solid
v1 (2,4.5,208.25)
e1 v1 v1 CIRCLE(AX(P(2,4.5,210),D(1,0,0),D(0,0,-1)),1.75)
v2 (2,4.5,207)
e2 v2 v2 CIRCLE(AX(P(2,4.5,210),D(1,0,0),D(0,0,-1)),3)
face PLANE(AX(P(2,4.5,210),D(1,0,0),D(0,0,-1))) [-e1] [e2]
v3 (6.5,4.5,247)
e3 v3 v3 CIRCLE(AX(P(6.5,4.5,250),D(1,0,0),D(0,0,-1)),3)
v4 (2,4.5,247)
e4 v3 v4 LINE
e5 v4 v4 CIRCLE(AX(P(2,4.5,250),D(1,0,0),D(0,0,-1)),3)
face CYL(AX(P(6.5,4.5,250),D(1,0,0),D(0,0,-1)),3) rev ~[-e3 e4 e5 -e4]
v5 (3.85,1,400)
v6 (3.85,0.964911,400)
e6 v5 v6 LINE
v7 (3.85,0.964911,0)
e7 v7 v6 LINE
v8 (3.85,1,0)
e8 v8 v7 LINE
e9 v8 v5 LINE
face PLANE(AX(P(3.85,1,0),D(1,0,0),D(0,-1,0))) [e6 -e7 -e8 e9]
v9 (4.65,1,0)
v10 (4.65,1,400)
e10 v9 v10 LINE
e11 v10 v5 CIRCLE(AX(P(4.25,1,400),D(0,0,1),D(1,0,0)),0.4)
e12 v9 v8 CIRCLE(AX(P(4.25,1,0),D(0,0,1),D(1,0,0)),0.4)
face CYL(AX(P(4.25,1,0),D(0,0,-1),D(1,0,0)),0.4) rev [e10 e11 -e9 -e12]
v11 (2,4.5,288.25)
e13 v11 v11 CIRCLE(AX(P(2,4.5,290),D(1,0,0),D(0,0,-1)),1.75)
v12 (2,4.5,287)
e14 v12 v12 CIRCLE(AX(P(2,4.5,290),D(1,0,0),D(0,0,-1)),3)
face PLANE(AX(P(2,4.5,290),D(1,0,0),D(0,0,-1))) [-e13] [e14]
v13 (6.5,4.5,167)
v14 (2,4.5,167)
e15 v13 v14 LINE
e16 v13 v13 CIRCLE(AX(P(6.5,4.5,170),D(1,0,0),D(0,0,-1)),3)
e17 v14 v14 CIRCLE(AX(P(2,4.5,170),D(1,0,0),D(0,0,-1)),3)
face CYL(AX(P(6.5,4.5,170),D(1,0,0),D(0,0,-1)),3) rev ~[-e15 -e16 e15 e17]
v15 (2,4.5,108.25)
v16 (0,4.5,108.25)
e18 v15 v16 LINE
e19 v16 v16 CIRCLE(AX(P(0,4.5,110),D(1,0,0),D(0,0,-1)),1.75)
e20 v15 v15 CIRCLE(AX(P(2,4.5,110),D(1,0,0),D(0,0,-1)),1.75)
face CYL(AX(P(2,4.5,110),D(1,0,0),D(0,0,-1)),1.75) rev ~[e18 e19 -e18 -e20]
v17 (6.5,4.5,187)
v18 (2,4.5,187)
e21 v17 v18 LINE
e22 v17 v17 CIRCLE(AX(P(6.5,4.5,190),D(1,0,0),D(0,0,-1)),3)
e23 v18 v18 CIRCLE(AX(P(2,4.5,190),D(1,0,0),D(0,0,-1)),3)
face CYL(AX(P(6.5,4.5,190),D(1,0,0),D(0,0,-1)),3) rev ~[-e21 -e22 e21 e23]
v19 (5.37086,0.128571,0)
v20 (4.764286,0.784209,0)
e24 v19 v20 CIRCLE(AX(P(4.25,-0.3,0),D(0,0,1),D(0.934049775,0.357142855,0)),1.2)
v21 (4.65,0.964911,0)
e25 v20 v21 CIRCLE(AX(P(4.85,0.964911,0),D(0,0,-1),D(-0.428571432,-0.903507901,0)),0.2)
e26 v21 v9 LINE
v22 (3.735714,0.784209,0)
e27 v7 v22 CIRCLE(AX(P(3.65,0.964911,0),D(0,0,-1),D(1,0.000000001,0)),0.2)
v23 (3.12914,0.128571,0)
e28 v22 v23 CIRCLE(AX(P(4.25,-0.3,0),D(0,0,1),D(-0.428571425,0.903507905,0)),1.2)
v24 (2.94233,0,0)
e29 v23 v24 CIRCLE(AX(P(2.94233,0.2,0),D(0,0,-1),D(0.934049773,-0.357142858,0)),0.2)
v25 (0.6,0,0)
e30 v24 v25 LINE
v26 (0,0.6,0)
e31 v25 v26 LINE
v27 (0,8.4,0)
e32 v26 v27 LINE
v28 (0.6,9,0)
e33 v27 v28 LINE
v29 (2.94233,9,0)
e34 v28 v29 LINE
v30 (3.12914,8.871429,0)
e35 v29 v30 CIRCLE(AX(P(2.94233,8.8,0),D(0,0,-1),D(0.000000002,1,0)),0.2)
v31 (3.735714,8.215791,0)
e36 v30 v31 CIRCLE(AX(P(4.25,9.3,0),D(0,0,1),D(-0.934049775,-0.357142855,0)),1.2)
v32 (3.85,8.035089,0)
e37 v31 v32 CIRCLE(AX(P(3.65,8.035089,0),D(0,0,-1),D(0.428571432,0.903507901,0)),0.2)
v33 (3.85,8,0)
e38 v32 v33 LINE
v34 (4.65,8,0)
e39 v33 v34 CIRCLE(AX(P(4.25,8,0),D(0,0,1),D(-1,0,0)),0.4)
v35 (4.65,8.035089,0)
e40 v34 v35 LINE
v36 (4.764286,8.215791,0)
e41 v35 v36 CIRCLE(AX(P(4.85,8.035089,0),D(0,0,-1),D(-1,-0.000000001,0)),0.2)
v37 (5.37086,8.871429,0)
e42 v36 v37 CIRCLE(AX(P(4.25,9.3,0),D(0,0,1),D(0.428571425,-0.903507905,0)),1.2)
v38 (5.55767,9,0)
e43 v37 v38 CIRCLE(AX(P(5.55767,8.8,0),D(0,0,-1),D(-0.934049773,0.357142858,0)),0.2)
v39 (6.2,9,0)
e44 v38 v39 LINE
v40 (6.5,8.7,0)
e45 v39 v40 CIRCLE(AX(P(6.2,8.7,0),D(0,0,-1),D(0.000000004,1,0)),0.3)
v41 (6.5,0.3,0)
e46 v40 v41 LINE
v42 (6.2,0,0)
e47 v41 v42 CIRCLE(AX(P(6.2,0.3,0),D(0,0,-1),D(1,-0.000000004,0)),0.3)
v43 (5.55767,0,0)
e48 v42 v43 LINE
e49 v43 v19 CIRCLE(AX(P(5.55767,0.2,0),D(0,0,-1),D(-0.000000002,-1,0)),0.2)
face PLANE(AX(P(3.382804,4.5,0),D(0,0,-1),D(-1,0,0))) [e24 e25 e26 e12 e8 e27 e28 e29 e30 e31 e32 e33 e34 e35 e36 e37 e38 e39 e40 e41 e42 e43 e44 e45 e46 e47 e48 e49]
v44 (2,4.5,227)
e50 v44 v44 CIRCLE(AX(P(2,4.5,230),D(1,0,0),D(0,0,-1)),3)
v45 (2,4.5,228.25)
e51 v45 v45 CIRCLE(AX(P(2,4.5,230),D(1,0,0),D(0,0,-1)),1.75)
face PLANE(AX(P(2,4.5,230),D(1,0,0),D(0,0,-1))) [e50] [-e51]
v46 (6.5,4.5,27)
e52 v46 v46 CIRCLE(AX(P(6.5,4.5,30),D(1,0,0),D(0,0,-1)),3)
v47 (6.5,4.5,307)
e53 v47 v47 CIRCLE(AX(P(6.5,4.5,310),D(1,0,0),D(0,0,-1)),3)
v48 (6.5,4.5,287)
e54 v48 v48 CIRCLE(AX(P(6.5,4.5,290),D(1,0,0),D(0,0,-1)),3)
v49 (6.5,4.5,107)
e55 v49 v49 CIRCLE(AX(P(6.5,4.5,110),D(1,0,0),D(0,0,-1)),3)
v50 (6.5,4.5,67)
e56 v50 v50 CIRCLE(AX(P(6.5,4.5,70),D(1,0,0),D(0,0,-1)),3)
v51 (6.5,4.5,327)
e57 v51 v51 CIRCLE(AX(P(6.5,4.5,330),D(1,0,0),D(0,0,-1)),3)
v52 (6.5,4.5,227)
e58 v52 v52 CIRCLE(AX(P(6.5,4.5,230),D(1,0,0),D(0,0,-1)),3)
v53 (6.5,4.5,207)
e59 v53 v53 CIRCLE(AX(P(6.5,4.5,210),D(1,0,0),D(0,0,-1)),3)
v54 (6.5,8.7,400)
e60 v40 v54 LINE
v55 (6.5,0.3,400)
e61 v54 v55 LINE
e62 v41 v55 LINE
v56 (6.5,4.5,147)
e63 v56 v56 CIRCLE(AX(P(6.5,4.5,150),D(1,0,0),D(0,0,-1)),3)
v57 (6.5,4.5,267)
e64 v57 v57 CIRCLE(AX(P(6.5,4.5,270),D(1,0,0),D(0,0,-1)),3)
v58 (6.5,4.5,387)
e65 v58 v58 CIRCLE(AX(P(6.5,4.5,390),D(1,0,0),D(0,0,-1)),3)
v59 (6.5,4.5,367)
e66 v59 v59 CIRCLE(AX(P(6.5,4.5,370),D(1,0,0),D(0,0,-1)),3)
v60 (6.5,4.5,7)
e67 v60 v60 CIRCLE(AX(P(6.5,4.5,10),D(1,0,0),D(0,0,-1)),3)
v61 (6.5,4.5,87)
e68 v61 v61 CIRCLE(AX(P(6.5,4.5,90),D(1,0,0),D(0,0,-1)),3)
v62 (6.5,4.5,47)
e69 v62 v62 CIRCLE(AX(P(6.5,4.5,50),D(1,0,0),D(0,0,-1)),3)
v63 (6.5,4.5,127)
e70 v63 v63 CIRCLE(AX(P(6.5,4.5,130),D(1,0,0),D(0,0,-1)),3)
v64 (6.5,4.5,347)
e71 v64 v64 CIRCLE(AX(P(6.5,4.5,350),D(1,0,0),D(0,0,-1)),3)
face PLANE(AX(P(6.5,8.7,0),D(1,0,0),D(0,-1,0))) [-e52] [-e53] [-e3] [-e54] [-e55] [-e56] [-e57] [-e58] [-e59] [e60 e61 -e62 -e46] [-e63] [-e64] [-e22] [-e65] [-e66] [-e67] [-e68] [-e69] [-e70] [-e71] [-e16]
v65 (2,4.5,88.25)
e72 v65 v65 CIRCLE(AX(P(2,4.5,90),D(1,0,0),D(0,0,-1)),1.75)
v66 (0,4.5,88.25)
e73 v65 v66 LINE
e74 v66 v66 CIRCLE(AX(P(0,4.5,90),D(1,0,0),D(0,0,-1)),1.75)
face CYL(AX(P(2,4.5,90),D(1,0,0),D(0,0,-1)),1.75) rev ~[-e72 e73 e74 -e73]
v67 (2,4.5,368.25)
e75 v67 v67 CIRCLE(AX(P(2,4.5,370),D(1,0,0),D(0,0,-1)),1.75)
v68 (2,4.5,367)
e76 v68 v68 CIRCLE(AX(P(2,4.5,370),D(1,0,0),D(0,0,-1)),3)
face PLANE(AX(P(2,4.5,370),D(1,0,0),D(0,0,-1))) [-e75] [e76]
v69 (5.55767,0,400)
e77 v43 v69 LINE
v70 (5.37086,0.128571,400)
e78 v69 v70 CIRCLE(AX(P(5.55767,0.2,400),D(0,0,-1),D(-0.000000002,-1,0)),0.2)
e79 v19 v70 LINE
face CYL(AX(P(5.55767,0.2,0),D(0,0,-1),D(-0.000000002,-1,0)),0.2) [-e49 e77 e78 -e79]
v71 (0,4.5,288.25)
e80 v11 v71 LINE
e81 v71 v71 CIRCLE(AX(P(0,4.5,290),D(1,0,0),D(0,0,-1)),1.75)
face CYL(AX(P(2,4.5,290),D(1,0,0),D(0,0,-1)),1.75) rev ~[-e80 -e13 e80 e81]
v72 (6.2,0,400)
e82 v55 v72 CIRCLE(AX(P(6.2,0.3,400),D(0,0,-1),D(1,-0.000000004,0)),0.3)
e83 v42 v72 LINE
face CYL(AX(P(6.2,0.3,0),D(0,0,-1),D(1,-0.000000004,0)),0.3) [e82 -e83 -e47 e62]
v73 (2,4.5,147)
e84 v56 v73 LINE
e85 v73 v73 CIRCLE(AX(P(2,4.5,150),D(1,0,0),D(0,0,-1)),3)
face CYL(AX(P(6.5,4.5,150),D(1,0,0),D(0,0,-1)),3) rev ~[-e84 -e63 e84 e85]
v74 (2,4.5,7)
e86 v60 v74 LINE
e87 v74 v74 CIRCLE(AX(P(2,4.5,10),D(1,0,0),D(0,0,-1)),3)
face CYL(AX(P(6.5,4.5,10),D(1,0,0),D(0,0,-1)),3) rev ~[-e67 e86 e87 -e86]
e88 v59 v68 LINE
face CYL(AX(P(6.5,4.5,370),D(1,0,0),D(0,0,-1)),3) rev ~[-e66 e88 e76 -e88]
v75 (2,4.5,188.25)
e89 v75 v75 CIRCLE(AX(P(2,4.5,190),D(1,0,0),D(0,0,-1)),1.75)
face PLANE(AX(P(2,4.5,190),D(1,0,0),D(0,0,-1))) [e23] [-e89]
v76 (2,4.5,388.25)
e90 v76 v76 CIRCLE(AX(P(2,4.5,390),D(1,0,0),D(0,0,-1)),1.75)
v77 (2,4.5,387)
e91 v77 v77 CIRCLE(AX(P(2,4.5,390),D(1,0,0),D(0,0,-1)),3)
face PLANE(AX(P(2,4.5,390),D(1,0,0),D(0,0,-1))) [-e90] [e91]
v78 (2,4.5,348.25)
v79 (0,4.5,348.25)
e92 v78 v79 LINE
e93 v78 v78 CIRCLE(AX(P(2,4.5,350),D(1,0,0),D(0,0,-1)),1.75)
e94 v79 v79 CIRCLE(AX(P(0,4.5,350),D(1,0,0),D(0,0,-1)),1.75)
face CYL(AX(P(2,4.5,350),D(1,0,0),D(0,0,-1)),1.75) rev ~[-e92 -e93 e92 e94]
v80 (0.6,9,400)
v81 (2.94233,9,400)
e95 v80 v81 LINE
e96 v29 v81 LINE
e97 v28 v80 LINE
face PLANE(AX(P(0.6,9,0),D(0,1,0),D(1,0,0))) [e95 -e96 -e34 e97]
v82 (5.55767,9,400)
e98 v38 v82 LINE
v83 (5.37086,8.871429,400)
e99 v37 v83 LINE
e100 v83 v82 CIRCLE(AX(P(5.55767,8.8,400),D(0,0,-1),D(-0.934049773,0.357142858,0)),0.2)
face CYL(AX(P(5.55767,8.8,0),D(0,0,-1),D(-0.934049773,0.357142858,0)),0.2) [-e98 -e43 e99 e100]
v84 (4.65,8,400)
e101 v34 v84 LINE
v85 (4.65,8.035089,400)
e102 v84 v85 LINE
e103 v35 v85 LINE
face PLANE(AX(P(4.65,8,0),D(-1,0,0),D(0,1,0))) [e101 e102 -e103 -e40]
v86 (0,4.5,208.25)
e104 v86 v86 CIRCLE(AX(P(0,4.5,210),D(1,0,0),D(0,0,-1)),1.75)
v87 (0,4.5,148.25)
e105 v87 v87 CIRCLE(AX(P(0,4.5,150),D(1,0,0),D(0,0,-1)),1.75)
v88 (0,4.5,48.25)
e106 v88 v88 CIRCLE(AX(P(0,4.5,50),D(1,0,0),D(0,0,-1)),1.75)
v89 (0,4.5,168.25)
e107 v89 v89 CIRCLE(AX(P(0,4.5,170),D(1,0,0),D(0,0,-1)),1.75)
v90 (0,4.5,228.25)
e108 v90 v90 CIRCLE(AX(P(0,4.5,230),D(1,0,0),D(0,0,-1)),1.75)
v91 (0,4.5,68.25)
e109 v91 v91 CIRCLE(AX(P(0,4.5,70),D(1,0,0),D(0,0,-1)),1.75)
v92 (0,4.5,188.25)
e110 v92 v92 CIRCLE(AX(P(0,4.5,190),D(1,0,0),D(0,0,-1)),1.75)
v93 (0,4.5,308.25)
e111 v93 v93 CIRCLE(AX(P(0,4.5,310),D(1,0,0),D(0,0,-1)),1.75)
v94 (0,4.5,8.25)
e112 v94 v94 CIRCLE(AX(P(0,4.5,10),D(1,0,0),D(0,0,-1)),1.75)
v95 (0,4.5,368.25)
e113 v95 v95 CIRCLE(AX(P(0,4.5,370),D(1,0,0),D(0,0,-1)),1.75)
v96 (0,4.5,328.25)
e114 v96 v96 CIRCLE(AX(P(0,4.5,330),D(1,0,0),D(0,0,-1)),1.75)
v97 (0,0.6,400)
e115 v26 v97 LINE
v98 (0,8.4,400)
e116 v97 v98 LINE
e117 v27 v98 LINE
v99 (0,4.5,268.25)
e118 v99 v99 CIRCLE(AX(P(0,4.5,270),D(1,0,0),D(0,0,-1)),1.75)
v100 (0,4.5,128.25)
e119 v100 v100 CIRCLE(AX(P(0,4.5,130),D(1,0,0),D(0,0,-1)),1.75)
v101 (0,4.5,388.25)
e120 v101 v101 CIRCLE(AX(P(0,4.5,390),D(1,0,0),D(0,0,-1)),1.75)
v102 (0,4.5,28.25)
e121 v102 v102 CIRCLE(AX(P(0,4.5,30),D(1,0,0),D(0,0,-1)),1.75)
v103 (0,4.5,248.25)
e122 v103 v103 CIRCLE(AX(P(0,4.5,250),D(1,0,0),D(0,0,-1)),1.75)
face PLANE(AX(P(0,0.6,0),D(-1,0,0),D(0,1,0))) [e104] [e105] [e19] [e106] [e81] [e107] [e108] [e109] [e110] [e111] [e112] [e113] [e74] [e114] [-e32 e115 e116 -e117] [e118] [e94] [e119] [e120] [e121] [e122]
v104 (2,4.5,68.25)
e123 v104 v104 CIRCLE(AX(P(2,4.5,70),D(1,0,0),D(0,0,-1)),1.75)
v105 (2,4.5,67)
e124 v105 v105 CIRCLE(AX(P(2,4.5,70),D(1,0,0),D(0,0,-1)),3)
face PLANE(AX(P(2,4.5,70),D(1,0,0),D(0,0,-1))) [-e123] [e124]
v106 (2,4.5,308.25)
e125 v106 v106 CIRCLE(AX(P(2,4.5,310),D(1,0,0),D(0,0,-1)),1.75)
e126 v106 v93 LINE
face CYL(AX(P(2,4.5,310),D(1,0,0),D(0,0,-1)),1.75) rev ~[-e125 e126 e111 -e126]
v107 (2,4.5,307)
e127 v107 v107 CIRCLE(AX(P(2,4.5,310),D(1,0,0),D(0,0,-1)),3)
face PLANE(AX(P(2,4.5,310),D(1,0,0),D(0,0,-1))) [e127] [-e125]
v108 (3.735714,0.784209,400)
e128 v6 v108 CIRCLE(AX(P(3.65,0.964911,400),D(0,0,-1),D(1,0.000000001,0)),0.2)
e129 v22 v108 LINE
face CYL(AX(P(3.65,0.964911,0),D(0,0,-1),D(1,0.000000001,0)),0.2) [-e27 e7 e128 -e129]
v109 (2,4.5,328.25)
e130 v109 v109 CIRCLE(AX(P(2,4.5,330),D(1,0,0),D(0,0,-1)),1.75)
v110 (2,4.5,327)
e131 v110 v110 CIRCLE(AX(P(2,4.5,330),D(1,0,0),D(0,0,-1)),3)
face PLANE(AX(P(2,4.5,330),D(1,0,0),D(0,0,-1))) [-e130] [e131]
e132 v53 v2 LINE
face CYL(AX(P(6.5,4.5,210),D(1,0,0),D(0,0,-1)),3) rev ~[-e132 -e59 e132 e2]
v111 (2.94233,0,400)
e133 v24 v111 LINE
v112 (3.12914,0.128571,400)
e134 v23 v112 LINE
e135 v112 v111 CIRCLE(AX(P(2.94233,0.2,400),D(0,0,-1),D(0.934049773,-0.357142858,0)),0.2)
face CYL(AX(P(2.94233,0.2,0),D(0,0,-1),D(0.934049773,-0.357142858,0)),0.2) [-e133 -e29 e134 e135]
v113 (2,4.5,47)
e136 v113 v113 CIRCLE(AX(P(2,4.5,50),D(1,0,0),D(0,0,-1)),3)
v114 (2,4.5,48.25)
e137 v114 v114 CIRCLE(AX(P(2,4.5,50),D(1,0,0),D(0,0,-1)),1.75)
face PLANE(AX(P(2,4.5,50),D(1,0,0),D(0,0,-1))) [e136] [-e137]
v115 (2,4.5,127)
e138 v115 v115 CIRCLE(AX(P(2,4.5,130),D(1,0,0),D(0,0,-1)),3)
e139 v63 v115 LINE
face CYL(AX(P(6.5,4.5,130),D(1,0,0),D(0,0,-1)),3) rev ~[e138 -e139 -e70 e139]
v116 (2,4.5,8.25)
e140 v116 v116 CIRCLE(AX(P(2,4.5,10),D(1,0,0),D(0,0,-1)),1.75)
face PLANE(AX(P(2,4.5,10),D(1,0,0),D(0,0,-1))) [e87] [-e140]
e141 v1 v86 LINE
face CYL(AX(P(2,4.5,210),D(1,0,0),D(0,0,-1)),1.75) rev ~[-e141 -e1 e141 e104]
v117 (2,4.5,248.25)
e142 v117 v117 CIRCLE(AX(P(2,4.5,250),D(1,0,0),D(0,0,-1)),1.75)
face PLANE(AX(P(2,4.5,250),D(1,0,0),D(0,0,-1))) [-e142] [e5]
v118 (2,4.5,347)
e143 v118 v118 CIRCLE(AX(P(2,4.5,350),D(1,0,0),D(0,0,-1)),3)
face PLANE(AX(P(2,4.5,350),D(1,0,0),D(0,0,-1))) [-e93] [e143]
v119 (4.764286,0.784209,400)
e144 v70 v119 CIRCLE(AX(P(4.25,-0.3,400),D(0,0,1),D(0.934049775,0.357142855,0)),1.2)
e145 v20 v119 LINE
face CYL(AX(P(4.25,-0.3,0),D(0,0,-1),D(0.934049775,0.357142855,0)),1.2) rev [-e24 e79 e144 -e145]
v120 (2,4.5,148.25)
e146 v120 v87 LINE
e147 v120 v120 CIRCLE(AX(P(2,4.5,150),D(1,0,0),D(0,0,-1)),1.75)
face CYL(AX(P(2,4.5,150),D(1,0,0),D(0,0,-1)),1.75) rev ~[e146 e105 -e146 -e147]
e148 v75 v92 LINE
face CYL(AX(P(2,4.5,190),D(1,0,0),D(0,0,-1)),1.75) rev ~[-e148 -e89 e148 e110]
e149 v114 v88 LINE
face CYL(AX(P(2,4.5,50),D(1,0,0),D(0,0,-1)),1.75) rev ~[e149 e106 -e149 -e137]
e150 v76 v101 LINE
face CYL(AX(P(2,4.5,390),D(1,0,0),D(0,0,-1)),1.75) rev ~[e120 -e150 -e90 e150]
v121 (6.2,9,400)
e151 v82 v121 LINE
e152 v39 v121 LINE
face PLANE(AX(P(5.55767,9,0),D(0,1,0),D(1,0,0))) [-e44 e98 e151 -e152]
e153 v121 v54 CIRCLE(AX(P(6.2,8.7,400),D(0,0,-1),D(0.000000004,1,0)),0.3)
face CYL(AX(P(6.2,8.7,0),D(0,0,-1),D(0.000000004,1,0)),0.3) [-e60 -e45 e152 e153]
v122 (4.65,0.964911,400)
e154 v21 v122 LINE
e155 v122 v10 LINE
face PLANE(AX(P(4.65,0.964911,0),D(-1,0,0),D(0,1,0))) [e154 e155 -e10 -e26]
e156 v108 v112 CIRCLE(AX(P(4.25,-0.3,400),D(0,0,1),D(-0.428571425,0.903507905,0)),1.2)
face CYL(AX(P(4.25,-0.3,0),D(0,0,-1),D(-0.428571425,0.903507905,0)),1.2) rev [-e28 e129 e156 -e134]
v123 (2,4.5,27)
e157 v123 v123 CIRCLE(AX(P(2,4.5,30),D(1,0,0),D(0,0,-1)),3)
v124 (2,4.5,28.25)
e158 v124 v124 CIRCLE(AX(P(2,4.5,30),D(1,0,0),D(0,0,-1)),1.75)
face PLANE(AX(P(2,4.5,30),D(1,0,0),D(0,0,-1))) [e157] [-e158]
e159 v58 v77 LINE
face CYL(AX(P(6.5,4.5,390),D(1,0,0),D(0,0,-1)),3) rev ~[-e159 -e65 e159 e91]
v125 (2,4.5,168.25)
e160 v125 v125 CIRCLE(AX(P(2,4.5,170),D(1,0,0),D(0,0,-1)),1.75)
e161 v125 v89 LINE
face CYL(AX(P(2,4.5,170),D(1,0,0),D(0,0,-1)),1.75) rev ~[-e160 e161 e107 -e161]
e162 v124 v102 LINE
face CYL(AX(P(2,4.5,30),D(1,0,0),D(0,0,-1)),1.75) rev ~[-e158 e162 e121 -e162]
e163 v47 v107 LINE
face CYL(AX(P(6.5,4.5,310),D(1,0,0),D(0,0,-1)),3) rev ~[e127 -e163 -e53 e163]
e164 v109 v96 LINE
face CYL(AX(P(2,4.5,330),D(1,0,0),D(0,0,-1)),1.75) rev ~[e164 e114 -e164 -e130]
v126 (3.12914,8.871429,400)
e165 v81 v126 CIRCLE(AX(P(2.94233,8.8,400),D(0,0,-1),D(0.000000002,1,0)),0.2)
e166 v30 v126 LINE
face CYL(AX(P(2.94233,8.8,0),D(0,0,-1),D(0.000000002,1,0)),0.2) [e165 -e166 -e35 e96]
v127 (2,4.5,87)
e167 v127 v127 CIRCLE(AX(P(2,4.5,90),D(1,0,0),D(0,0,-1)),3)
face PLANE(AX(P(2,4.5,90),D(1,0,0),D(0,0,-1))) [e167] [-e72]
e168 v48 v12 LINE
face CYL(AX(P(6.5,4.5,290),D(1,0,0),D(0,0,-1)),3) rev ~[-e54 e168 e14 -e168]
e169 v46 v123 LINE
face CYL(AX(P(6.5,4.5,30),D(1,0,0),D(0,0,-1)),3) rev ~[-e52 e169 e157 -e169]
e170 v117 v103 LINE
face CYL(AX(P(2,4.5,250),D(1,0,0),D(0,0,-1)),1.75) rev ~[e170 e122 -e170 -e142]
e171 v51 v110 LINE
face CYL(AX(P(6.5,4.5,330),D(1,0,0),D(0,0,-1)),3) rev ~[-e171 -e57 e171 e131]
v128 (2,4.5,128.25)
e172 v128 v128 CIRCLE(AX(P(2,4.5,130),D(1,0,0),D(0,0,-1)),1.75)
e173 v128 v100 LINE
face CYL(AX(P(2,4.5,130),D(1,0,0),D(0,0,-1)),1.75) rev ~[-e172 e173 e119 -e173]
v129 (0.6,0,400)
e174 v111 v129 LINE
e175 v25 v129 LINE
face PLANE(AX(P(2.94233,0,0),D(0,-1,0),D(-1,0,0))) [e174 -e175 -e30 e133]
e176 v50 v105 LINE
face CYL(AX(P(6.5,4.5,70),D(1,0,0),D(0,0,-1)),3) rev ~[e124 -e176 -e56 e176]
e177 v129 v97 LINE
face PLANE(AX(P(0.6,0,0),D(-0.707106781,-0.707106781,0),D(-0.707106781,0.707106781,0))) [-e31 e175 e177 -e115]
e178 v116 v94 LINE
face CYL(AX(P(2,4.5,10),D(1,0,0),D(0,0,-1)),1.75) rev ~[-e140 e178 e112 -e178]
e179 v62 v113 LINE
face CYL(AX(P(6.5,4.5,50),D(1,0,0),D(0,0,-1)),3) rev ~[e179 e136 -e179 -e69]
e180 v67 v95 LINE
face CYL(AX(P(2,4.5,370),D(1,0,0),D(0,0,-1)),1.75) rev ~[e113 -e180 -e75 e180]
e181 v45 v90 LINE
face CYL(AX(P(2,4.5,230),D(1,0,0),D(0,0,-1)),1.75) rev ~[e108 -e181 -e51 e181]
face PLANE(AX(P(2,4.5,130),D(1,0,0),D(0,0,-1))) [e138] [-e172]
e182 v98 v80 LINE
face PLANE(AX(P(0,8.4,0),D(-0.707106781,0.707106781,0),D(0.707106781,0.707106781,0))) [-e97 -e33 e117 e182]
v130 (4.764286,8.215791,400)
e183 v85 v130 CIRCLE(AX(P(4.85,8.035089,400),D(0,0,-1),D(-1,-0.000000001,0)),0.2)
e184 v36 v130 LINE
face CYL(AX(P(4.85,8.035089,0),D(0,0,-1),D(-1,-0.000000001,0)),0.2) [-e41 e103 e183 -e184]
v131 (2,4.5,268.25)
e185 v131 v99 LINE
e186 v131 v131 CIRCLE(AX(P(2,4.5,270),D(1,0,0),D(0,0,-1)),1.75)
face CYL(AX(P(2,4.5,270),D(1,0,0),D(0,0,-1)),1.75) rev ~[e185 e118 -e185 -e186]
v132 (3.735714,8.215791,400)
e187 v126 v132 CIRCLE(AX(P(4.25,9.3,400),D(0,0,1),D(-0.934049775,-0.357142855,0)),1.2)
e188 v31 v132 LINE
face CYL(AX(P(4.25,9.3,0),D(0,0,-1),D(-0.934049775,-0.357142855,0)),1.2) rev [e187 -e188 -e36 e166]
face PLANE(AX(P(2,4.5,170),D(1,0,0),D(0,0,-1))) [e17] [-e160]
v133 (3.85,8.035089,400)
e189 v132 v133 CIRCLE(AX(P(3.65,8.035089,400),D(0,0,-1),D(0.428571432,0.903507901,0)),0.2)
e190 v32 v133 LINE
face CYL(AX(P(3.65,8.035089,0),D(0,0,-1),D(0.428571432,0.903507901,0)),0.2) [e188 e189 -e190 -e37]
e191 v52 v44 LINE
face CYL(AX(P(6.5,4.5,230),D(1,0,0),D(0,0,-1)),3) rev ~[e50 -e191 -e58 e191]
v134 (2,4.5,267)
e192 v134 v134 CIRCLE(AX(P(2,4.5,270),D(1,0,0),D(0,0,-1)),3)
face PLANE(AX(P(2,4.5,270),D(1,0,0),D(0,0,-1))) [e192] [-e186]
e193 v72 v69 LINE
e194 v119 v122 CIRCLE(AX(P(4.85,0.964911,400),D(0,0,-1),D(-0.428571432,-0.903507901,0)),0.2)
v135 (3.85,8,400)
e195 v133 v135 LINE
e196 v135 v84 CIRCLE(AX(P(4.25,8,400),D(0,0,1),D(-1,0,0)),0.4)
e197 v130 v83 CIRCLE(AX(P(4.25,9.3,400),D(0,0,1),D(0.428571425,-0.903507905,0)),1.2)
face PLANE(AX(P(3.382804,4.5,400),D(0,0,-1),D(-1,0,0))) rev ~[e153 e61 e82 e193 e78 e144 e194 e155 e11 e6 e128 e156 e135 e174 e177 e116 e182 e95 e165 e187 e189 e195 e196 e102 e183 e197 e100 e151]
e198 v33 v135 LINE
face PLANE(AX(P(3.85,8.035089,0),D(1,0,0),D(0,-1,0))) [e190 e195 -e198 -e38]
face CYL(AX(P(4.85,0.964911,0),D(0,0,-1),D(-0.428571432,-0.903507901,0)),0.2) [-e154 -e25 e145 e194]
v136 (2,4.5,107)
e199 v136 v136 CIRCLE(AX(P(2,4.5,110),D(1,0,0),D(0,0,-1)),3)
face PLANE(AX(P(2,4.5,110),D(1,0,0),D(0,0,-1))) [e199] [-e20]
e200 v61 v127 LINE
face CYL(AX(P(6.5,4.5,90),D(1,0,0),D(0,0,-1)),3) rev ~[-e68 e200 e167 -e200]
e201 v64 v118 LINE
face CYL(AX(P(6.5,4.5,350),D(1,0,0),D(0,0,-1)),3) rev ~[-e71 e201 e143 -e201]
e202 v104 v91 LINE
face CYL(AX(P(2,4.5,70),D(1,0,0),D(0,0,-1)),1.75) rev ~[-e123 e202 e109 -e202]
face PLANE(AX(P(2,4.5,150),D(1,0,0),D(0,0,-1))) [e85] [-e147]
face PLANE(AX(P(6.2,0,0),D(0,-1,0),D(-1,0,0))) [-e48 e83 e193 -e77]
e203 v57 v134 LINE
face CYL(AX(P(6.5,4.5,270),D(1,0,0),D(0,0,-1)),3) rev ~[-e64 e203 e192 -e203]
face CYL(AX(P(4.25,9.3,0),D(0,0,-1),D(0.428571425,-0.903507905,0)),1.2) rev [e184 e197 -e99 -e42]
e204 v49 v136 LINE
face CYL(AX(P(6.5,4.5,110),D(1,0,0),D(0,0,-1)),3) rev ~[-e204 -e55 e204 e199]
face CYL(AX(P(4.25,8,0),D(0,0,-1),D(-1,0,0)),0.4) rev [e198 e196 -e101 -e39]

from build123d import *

# Parameters (mm, degrees)
EXTRUDE_1_DEPTH     = 400
SKETCH_2_R          = 3
CUT_EXTRUDE_1_DEPTH = 4.5
SKETCH_3_R          = 1.75
CUT_EXTRUDE_2_DEPTH = 401.126542484


with BuildPart() as part:
    # 草图1 → 凸台-拉伸1 (new body)
    with BuildSketch(Plane.XY):
        with BuildLine():
            ThreePointArc((6.2, 9), (6.412132034, 8.912132034), (6.5, 8.7))
            Line((6.5, 8.7), (6.5, 0.3))
            ThreePointArc((6.5, 0.3), (6.412132034, 0.087867966), (6.2, 0))
            Line((6.2, 0), (5.557669683, 0))
            ThreePointArc((5.557669683, 0), (5.444280341, 0.035249106), (5.370859728, 0.128571429))
            ThreePointArc((5.370859728, 0.128571429), (5.130846451, 0.514929157), (4.764285714, 0.784209483))
            ThreePointArc((4.764285714, 0.784209483), (4.680969149, 0.858006567), (4.65, 0.964911064))
            Line((4.65, 0.964911064), (4.65, 1))
            ThreePointArc((4.65, 1), (4.25, 1.4), (3.85, 1))
            Line((3.85, 1), (3.85, 0.964911064))
            ThreePointArc((3.85, 0.964911064), (3.819030851, 0.858006567), (3.735714286, 0.784209483))
            ThreePointArc((3.735714286, 0.784209483), (3.369153549, 0.514929157), (3.129140272, 0.128571429))
            ThreePointArc((3.129140272, 0.128571429), (3.055719659, 0.035249106), (2.942330317, 0))
            Line((2.942330317, 0), (0.6, 0))
            Line((0.6, 0), (0, 0.6))
            Line((0, 0.6), (0, 8.4))
            Line((0, 8.4), (0.6, 9))
            Line((0.6, 9), (2.942330317, 9))
            ThreePointArc((2.942330317, 9), (3.055719659, 8.964750894), (3.129140272, 8.871428571))
            ThreePointArc((3.129140272, 8.871428571), (3.369153549, 8.485070843), (3.735714286, 8.215790517))
            ThreePointArc((3.735714286, 8.215790517), (3.819030851, 8.141993433), (3.85, 8.035088936))
            Line((3.85, 8.035088936), (3.85, 8))
            ThreePointArc((3.85, 8), (4.25, 7.6), (4.65, 8))
            Line((4.65, 8), (4.65, 8.035088936))
            ThreePointArc((4.65, 8.035088936), (4.680969149, 8.141993433), (4.764285714, 8.215790517))
            ThreePointArc((4.764285714, 8.215790517), (5.130846451, 8.485070843), (5.370859728, 8.871428571))
            ThreePointArc((5.370859728, 8.871428571), (5.444280341, 8.964750894), (5.557669683, 9))
            Line((5.557669683, 9), (6.2, 9))
        make_face()
    extrude(amount=EXTRUDE_1_DEPTH)

    # 草图2 → 切除-拉伸1 (cut)
    with BuildSketch(Plane(origin=(6.5, 0, 0), x_dir=(0, 0, -1), z_dir=(1, 0, 0))):
        with Locations((-10, 4.5)):
            Circle(SKETCH_2_R)
        with Locations((-30, 4.5)):
            Circle(SKETCH_2_R)
        with Locations((-50, 4.5)):
            Circle(SKETCH_2_R)
        with Locations((-70, 4.5)):
            Circle(SKETCH_2_R)
        with Locations((-90, 4.5)):
            Circle(SKETCH_2_R)
        with Locations((-110, 4.5)):
            Circle(SKETCH_2_R)
        with Locations((-130, 4.5)):
            Circle(SKETCH_2_R)
        with Locations((-150, 4.5)):
            Circle(SKETCH_2_R)
        with Locations((-170, 4.5)):
            Circle(SKETCH_2_R)
        with Locations((-190, 4.5)):
            Circle(SKETCH_2_R)
        with Locations((-210, 4.5)):
            Circle(SKETCH_2_R)
        with Locations((-230, 4.5)):
            Circle(SKETCH_2_R)
        with Locations((-250, 4.5)):
            Circle(SKETCH_2_R)
        with Locations((-270, 4.5)):
            Circle(SKETCH_2_R)
        with Locations((-290, 4.5)):
            Circle(SKETCH_2_R)
        with Locations((-310, 4.5)):
            Circle(SKETCH_2_R)
        with Locations((-330, 4.5)):
            Circle(SKETCH_2_R)
        with Locations((-350, 4.5)):
            Circle(SKETCH_2_R)
        with Locations((-370, 4.5)):
            Circle(SKETCH_2_R)
        with Locations((-390, 4.5)):
            Circle(SKETCH_2_R)
        with Locations((-410, 4.5)):
            Circle(SKETCH_2_R)
        with Locations((-430, 4.5)):
            Circle(SKETCH_2_R)
        with Locations((-450, 4.5)):
            Circle(SKETCH_2_R)
        with Locations((-470, 4.5)):
            Circle(SKETCH_2_R)
        with Locations((-490, 4.5)):
            Circle(SKETCH_2_R)
        with Locations((-510, 4.5)):
            Circle(SKETCH_2_R)
        with Locations((-530, 4.5)):
            Circle(SKETCH_2_R)
        with Locations((-550, 4.5)):
            Circle(SKETCH_2_R)
        with Locations((-570, 4.5)):
            Circle(SKETCH_2_R)
        with Locations((-590, 4.5)):
            Circle(SKETCH_2_R)
        with Locations((-610, 4.5)):
            Circle(SKETCH_2_R)
        with Locations((-630, 4.5)):
            Circle(SKETCH_2_R)
        with Locations((-650, 4.5)):
            Circle(SKETCH_2_R)
        with Locations((-670, 4.5)):
            Circle(SKETCH_2_R)
        with Locations((-690, 4.5)):
            Circle(SKETCH_2_R)
        with Locations((-710, 4.5)):
            Circle(SKETCH_2_R)
        with Locations((-730, 4.5)):
            Circle(SKETCH_2_R)
        with Locations((-750, 4.5)):
            Circle(SKETCH_2_R)
        with Locations((-770, 4.5)):
            Circle(SKETCH_2_R)
        with Locations((-790, 4.5)):
            Circle(SKETCH_2_R)
        with Locations((-810, 4.5)):
            Circle(SKETCH_2_R)
        with Locations((-830, 4.5)):
            Circle(SKETCH_2_R)
        with Locations((-850, 4.5)):
            Circle(SKETCH_2_R)
        with Locations((-870, 4.5)):
            Circle(SKETCH_2_R)
        with Locations((-890, 4.5)):
            Circle(SKETCH_2_R)
        with Locations((-910, 4.5)):
            Circle(SKETCH_2_R)
        with Locations((-930, 4.5)):
            Circle(SKETCH_2_R)
        with Locations((-950, 4.5)):
            Circle(SKETCH_2_R)
        with Locations((-970, 4.5)):
            Circle(SKETCH_2_R)
        with Locations((-990, 4.5)):
            Circle(SKETCH_2_R)
        with Locations((-1010, 4.5)):
            Circle(SKETCH_2_R)
        with Locations((-1030, 4.5)):
            Circle(SKETCH_2_R)
        with Locations((-1050, 4.5)):
            Circle(SKETCH_2_R)
        with Locations((-1070, 4.5)):
            Circle(SKETCH_2_R)
        with Locations((-1090, 4.5)):
            Circle(SKETCH_2_R)
        with Locations((-1110, 4.5)):
            Circle(SKETCH_2_R)
        with Locations((-1130, 4.5)):
            Circle(SKETCH_2_R)
        with Locations((-1150, 4.5)):
            Circle(SKETCH_2_R)
        with Locations((-1170, 4.5)):
            Circle(SKETCH_2_R)
        with Locations((-1190, 4.5)):
            Circle(SKETCH_2_R)
        with Locations((-1210, 4.5)):
            Circle(SKETCH_2_R)
        with Locations((-1230, 4.5)):
            Circle(SKETCH_2_R)
        with Locations((-1250, 4.5)):
            Circle(SKETCH_2_R)
        with Locations((-1270, 4.5)):
            Circle(SKETCH_2_R)
        with Locations((-1290, 4.5)):
            Circle(SKETCH_2_R)
        with Locations((-1310, 4.5)):
            Circle(SKETCH_2_R)
        with Locations((-1330, 4.5)):
            Circle(SKETCH_2_R)
        with Locations((-1350, 4.5)):
            Circle(SKETCH_2_R)
        with Locations((-1370, 4.5)):
            Circle(SKETCH_2_R)
        with Locations((-1390, 4.5)):
            Circle(SKETCH_2_R)
        with Locations((-1410, 4.5)):
            Circle(SKETCH_2_R)
        with Locations((-1430, 4.5)):
            Circle(SKETCH_2_R)
        with Locations((-1450, 4.5)):
            Circle(SKETCH_2_R)
        with Locations((-1470, 4.5)):
            Circle(SKETCH_2_R)
        with Locations((-1490, 4.5)):
            Circle(SKETCH_2_R)
        with Locations((-1510, 4.5)):
            Circle(SKETCH_2_R)
        with Locations((-1530, 4.5)):
            Circle(SKETCH_2_R)
        with Locations((-1550, 4.5)):
            Circle(SKETCH_2_R)
        with Locations((-1570, 4.5)):
            Circle(SKETCH_2_R)
        with Locations((-1590, 4.5)):
            Circle(SKETCH_2_R)
        with Locations((-1610, 4.5)):
            Circle(SKETCH_2_R)
        with Locations((-1630, 4.5)):
            Circle(SKETCH_2_R)
        with Locations((-1650, 4.5)):
            Circle(SKETCH_2_R)
        with Locations((-1670, 4.5)):
            Circle(SKETCH_2_R)
        with Locations((-1690, 4.5)):
            Circle(SKETCH_2_R)
        with Locations((-1710, 4.5)):
            Circle(SKETCH_2_R)
        with Locations((-1730, 4.5)):
            Circle(SKETCH_2_R)
        with Locations((-1750, 4.5)):
            Circle(SKETCH_2_R)
        with Locations((-1770, 4.5)):
            Circle(SKETCH_2_R)
        with Locations((-1790, 4.5)):
            Circle(SKETCH_2_R)
        with Locations((-1810, 4.5)):
            Circle(SKETCH_2_R)
        with Locations((-1830, 4.5)):
            Circle(SKETCH_2_R)
        with Locations((-1850, 4.5)):
            Circle(SKETCH_2_R)
        with Locations((-1870, 4.5)):
            Circle(SKETCH_2_R)
        with Locations((-1890, 4.5)):
            Circle(SKETCH_2_R)
        with Locations((-1910, 4.5)):
            Circle(SKETCH_2_R)
        with Locations((-1930, 4.5)):
            Circle(SKETCH_2_R)
        with Locations((-1950, 4.5)):
            Circle(SKETCH_2_R)
        with Locations((-1970, 4.5)):
            Circle(SKETCH_2_R)
        with Locations((-1990, 4.5)):
            Circle(SKETCH_2_R)
        with Locations((-2010, 4.5)):
            Circle(SKETCH_2_R)
        with Locations((-2030, 4.5)):
            Circle(SKETCH_2_R)
        with Locations((-2050, 4.5)):
            Circle(SKETCH_2_R)
        with Locations((-2070, 4.5)):
            Circle(SKETCH_2_R)
        with Locations((-2090, 4.5)):
            Circle(SKETCH_2_R)
        with Locations((-2110, 4.5)):
            Circle(SKETCH_2_R)
        with Locations((-2130, 4.5)):
            Circle(SKETCH_2_R)
        with Locations((-2150, 4.5)):
            Circle(SKETCH_2_R)
        with Locations((-2170, 4.5)):
            Circle(SKETCH_2_R)
        with Locations((-2190, 4.5)):
            Circle(SKETCH_2_R)
        with Locations((-2210, 4.5)):
            Circle(SKETCH_2_R)
        with Locations((-2230, 4.5)):
            Circle(SKETCH_2_R)
        with Locations((-2250, 4.5)):
            Circle(SKETCH_2_R)
        with Locations((-2270, 4.5)):
            Circle(SKETCH_2_R)
        with Locations((-2290, 4.5)):
            Circle(SKETCH_2_R)
        with Locations((-2310, 4.5)):
            Circle(SKETCH_2_R)
        with Locations((-2330, 4.5)):
            Circle(SKETCH_2_R)
        with Locations((-2350, 4.5)):
            Circle(SKETCH_2_R)
        with Locations((-2370, 4.5)):
            Circle(SKETCH_2_R)
        with Locations((-2390, 4.5)):
            Circle(SKETCH_2_R)
        with Locations((-2410, 4.5)):
            Circle(SKETCH_2_R)
        with Locations((-2430, 4.5)):
            Circle(SKETCH_2_R)
        with Locations((-2450, 4.5)):
            Circle(SKETCH_2_R)
        with Locations((-2470, 4.5)):
            Circle(SKETCH_2_R)
    extrude(amount=-CUT_EXTRUDE_1_DEPTH, mode=Mode.SUBTRACT)

    # 草图3 → 切除-拉伸2 (cut, through all)
    with BuildSketch(Plane(origin=(2, 0, 0), x_dir=(0, 0, -1), z_dir=(1, 0, 0))):
        with Locations((-10, 4.5)):
            Circle(SKETCH_3_R)
        with Locations((-30, 4.5)):
            Circle(SKETCH_3_R)
        with Locations((-50, 4.5)):
            Circle(SKETCH_3_R)
        with Locations((-70, 4.5)):
            Circle(SKETCH_3_R)
        with Locations((-90, 4.5)):
            Circle(SKETCH_3_R)
        with Locations((-110, 4.5)):
            Circle(SKETCH_3_R)
        with Locations((-130, 4.5)):
            Circle(SKETCH_3_R)
        with Locations((-150, 4.5)):
            Circle(SKETCH_3_R)
        with Locations((-170, 4.5)):
            Circle(SKETCH_3_R)
        with Locations((-190, 4.5)):
            Circle(SKETCH_3_R)
        with Locations((-210, 4.5)):
            Circle(SKETCH_3_R)
        with Locations((-230, 4.5)):
            Circle(SKETCH_3_R)
        with Locations((-250, 4.5)):
            Circle(SKETCH_3_R)
        with Locations((-270, 4.5)):
            Circle(SKETCH_3_R)
        with Locations((-290, 4.5)):
            Circle(SKETCH_3_R)
        with Locations((-310, 4.5)):
            Circle(SKETCH_3_R)
        with Locations((-330, 4.5)):
            Circle(SKETCH_3_R)
        with Locations((-350, 4.5)):
            Circle(SKETCH_3_R)
        with Locations((-370, 4.5)):
            Circle(SKETCH_3_R)
        with Locations((-390, 4.5)):
            Circle(SKETCH_3_R)
        with Locations((-410, 4.5)):
            Circle(SKETCH_3_R)
        with Locations((-430, 4.5)):
            Circle(SKETCH_3_R)
        with Locations((-450, 4.5)):
            Circle(SKETCH_3_R)
        with Locations((-470, 4.5)):
            Circle(SKETCH_3_R)
        with Locations((-490, 4.5)):
            Circle(SKETCH_3_R)
        with Locations((-510, 4.5)):
            Circle(SKETCH_3_R)
        with Locations((-530, 4.5)):
            Circle(SKETCH_3_R)
        with Locations((-550, 4.5)):
            Circle(SKETCH_3_R)
        with Locations((-570, 4.5)):
            Circle(SKETCH_3_R)
        with Locations((-590, 4.5)):
            Circle(SKETCH_3_R)
        with Locations((-610, 4.5)):
            Circle(SKETCH_3_R)
        with Locations((-630, 4.5)):
            Circle(SKETCH_3_R)
        with Locations((-650, 4.5)):
            Circle(SKETCH_3_R)
        with Locations((-670, 4.5)):
            Circle(SKETCH_3_R)
        with Locations((-690, 4.5)):
            Circle(SKETCH_3_R)
        with Locations((-710, 4.5)):
            Circle(SKETCH_3_R)
        with Locations((-730, 4.5)):
            Circle(SKETCH_3_R)
        with Locations((-750, 4.5)):
            Circle(SKETCH_3_R)
        with Locations((-770, 4.5)):
            Circle(SKETCH_3_R)
        with Locations((-790, 4.5)):
            Circle(SKETCH_3_R)
        with Locations((-810, 4.5)):
            Circle(SKETCH_3_R)
        with Locations((-830, 4.5)):
            Circle(SKETCH_3_R)
        with Locations((-850, 4.5)):
            Circle(SKETCH_3_R)
        with Locations((-870, 4.5)):
            Circle(SKETCH_3_R)
        with Locations((-890, 4.5)):
            Circle(SKETCH_3_R)
        with Locations((-910, 4.5)):
            Circle(SKETCH_3_R)
        with Locations((-930, 4.5)):
            Circle(SKETCH_3_R)
        with Locations((-950, 4.5)):
            Circle(SKETCH_3_R)
        with Locations((-970, 4.5)):
            Circle(SKETCH_3_R)
        with Locations((-990, 4.5)):
            Circle(SKETCH_3_R)
        with Locations((-1010, 4.5)):
            Circle(SKETCH_3_R)
        with Locations((-1030, 4.5)):
            Circle(SKETCH_3_R)
        with Locations((-1050, 4.5)):
            Circle(SKETCH_3_R)
        with Locations((-1070, 4.5)):
            Circle(SKETCH_3_R)
    extrude(amount=-CUT_EXTRUDE_2_DEPTH, mode=Mode.SUBTRACT)


solid = part.part
